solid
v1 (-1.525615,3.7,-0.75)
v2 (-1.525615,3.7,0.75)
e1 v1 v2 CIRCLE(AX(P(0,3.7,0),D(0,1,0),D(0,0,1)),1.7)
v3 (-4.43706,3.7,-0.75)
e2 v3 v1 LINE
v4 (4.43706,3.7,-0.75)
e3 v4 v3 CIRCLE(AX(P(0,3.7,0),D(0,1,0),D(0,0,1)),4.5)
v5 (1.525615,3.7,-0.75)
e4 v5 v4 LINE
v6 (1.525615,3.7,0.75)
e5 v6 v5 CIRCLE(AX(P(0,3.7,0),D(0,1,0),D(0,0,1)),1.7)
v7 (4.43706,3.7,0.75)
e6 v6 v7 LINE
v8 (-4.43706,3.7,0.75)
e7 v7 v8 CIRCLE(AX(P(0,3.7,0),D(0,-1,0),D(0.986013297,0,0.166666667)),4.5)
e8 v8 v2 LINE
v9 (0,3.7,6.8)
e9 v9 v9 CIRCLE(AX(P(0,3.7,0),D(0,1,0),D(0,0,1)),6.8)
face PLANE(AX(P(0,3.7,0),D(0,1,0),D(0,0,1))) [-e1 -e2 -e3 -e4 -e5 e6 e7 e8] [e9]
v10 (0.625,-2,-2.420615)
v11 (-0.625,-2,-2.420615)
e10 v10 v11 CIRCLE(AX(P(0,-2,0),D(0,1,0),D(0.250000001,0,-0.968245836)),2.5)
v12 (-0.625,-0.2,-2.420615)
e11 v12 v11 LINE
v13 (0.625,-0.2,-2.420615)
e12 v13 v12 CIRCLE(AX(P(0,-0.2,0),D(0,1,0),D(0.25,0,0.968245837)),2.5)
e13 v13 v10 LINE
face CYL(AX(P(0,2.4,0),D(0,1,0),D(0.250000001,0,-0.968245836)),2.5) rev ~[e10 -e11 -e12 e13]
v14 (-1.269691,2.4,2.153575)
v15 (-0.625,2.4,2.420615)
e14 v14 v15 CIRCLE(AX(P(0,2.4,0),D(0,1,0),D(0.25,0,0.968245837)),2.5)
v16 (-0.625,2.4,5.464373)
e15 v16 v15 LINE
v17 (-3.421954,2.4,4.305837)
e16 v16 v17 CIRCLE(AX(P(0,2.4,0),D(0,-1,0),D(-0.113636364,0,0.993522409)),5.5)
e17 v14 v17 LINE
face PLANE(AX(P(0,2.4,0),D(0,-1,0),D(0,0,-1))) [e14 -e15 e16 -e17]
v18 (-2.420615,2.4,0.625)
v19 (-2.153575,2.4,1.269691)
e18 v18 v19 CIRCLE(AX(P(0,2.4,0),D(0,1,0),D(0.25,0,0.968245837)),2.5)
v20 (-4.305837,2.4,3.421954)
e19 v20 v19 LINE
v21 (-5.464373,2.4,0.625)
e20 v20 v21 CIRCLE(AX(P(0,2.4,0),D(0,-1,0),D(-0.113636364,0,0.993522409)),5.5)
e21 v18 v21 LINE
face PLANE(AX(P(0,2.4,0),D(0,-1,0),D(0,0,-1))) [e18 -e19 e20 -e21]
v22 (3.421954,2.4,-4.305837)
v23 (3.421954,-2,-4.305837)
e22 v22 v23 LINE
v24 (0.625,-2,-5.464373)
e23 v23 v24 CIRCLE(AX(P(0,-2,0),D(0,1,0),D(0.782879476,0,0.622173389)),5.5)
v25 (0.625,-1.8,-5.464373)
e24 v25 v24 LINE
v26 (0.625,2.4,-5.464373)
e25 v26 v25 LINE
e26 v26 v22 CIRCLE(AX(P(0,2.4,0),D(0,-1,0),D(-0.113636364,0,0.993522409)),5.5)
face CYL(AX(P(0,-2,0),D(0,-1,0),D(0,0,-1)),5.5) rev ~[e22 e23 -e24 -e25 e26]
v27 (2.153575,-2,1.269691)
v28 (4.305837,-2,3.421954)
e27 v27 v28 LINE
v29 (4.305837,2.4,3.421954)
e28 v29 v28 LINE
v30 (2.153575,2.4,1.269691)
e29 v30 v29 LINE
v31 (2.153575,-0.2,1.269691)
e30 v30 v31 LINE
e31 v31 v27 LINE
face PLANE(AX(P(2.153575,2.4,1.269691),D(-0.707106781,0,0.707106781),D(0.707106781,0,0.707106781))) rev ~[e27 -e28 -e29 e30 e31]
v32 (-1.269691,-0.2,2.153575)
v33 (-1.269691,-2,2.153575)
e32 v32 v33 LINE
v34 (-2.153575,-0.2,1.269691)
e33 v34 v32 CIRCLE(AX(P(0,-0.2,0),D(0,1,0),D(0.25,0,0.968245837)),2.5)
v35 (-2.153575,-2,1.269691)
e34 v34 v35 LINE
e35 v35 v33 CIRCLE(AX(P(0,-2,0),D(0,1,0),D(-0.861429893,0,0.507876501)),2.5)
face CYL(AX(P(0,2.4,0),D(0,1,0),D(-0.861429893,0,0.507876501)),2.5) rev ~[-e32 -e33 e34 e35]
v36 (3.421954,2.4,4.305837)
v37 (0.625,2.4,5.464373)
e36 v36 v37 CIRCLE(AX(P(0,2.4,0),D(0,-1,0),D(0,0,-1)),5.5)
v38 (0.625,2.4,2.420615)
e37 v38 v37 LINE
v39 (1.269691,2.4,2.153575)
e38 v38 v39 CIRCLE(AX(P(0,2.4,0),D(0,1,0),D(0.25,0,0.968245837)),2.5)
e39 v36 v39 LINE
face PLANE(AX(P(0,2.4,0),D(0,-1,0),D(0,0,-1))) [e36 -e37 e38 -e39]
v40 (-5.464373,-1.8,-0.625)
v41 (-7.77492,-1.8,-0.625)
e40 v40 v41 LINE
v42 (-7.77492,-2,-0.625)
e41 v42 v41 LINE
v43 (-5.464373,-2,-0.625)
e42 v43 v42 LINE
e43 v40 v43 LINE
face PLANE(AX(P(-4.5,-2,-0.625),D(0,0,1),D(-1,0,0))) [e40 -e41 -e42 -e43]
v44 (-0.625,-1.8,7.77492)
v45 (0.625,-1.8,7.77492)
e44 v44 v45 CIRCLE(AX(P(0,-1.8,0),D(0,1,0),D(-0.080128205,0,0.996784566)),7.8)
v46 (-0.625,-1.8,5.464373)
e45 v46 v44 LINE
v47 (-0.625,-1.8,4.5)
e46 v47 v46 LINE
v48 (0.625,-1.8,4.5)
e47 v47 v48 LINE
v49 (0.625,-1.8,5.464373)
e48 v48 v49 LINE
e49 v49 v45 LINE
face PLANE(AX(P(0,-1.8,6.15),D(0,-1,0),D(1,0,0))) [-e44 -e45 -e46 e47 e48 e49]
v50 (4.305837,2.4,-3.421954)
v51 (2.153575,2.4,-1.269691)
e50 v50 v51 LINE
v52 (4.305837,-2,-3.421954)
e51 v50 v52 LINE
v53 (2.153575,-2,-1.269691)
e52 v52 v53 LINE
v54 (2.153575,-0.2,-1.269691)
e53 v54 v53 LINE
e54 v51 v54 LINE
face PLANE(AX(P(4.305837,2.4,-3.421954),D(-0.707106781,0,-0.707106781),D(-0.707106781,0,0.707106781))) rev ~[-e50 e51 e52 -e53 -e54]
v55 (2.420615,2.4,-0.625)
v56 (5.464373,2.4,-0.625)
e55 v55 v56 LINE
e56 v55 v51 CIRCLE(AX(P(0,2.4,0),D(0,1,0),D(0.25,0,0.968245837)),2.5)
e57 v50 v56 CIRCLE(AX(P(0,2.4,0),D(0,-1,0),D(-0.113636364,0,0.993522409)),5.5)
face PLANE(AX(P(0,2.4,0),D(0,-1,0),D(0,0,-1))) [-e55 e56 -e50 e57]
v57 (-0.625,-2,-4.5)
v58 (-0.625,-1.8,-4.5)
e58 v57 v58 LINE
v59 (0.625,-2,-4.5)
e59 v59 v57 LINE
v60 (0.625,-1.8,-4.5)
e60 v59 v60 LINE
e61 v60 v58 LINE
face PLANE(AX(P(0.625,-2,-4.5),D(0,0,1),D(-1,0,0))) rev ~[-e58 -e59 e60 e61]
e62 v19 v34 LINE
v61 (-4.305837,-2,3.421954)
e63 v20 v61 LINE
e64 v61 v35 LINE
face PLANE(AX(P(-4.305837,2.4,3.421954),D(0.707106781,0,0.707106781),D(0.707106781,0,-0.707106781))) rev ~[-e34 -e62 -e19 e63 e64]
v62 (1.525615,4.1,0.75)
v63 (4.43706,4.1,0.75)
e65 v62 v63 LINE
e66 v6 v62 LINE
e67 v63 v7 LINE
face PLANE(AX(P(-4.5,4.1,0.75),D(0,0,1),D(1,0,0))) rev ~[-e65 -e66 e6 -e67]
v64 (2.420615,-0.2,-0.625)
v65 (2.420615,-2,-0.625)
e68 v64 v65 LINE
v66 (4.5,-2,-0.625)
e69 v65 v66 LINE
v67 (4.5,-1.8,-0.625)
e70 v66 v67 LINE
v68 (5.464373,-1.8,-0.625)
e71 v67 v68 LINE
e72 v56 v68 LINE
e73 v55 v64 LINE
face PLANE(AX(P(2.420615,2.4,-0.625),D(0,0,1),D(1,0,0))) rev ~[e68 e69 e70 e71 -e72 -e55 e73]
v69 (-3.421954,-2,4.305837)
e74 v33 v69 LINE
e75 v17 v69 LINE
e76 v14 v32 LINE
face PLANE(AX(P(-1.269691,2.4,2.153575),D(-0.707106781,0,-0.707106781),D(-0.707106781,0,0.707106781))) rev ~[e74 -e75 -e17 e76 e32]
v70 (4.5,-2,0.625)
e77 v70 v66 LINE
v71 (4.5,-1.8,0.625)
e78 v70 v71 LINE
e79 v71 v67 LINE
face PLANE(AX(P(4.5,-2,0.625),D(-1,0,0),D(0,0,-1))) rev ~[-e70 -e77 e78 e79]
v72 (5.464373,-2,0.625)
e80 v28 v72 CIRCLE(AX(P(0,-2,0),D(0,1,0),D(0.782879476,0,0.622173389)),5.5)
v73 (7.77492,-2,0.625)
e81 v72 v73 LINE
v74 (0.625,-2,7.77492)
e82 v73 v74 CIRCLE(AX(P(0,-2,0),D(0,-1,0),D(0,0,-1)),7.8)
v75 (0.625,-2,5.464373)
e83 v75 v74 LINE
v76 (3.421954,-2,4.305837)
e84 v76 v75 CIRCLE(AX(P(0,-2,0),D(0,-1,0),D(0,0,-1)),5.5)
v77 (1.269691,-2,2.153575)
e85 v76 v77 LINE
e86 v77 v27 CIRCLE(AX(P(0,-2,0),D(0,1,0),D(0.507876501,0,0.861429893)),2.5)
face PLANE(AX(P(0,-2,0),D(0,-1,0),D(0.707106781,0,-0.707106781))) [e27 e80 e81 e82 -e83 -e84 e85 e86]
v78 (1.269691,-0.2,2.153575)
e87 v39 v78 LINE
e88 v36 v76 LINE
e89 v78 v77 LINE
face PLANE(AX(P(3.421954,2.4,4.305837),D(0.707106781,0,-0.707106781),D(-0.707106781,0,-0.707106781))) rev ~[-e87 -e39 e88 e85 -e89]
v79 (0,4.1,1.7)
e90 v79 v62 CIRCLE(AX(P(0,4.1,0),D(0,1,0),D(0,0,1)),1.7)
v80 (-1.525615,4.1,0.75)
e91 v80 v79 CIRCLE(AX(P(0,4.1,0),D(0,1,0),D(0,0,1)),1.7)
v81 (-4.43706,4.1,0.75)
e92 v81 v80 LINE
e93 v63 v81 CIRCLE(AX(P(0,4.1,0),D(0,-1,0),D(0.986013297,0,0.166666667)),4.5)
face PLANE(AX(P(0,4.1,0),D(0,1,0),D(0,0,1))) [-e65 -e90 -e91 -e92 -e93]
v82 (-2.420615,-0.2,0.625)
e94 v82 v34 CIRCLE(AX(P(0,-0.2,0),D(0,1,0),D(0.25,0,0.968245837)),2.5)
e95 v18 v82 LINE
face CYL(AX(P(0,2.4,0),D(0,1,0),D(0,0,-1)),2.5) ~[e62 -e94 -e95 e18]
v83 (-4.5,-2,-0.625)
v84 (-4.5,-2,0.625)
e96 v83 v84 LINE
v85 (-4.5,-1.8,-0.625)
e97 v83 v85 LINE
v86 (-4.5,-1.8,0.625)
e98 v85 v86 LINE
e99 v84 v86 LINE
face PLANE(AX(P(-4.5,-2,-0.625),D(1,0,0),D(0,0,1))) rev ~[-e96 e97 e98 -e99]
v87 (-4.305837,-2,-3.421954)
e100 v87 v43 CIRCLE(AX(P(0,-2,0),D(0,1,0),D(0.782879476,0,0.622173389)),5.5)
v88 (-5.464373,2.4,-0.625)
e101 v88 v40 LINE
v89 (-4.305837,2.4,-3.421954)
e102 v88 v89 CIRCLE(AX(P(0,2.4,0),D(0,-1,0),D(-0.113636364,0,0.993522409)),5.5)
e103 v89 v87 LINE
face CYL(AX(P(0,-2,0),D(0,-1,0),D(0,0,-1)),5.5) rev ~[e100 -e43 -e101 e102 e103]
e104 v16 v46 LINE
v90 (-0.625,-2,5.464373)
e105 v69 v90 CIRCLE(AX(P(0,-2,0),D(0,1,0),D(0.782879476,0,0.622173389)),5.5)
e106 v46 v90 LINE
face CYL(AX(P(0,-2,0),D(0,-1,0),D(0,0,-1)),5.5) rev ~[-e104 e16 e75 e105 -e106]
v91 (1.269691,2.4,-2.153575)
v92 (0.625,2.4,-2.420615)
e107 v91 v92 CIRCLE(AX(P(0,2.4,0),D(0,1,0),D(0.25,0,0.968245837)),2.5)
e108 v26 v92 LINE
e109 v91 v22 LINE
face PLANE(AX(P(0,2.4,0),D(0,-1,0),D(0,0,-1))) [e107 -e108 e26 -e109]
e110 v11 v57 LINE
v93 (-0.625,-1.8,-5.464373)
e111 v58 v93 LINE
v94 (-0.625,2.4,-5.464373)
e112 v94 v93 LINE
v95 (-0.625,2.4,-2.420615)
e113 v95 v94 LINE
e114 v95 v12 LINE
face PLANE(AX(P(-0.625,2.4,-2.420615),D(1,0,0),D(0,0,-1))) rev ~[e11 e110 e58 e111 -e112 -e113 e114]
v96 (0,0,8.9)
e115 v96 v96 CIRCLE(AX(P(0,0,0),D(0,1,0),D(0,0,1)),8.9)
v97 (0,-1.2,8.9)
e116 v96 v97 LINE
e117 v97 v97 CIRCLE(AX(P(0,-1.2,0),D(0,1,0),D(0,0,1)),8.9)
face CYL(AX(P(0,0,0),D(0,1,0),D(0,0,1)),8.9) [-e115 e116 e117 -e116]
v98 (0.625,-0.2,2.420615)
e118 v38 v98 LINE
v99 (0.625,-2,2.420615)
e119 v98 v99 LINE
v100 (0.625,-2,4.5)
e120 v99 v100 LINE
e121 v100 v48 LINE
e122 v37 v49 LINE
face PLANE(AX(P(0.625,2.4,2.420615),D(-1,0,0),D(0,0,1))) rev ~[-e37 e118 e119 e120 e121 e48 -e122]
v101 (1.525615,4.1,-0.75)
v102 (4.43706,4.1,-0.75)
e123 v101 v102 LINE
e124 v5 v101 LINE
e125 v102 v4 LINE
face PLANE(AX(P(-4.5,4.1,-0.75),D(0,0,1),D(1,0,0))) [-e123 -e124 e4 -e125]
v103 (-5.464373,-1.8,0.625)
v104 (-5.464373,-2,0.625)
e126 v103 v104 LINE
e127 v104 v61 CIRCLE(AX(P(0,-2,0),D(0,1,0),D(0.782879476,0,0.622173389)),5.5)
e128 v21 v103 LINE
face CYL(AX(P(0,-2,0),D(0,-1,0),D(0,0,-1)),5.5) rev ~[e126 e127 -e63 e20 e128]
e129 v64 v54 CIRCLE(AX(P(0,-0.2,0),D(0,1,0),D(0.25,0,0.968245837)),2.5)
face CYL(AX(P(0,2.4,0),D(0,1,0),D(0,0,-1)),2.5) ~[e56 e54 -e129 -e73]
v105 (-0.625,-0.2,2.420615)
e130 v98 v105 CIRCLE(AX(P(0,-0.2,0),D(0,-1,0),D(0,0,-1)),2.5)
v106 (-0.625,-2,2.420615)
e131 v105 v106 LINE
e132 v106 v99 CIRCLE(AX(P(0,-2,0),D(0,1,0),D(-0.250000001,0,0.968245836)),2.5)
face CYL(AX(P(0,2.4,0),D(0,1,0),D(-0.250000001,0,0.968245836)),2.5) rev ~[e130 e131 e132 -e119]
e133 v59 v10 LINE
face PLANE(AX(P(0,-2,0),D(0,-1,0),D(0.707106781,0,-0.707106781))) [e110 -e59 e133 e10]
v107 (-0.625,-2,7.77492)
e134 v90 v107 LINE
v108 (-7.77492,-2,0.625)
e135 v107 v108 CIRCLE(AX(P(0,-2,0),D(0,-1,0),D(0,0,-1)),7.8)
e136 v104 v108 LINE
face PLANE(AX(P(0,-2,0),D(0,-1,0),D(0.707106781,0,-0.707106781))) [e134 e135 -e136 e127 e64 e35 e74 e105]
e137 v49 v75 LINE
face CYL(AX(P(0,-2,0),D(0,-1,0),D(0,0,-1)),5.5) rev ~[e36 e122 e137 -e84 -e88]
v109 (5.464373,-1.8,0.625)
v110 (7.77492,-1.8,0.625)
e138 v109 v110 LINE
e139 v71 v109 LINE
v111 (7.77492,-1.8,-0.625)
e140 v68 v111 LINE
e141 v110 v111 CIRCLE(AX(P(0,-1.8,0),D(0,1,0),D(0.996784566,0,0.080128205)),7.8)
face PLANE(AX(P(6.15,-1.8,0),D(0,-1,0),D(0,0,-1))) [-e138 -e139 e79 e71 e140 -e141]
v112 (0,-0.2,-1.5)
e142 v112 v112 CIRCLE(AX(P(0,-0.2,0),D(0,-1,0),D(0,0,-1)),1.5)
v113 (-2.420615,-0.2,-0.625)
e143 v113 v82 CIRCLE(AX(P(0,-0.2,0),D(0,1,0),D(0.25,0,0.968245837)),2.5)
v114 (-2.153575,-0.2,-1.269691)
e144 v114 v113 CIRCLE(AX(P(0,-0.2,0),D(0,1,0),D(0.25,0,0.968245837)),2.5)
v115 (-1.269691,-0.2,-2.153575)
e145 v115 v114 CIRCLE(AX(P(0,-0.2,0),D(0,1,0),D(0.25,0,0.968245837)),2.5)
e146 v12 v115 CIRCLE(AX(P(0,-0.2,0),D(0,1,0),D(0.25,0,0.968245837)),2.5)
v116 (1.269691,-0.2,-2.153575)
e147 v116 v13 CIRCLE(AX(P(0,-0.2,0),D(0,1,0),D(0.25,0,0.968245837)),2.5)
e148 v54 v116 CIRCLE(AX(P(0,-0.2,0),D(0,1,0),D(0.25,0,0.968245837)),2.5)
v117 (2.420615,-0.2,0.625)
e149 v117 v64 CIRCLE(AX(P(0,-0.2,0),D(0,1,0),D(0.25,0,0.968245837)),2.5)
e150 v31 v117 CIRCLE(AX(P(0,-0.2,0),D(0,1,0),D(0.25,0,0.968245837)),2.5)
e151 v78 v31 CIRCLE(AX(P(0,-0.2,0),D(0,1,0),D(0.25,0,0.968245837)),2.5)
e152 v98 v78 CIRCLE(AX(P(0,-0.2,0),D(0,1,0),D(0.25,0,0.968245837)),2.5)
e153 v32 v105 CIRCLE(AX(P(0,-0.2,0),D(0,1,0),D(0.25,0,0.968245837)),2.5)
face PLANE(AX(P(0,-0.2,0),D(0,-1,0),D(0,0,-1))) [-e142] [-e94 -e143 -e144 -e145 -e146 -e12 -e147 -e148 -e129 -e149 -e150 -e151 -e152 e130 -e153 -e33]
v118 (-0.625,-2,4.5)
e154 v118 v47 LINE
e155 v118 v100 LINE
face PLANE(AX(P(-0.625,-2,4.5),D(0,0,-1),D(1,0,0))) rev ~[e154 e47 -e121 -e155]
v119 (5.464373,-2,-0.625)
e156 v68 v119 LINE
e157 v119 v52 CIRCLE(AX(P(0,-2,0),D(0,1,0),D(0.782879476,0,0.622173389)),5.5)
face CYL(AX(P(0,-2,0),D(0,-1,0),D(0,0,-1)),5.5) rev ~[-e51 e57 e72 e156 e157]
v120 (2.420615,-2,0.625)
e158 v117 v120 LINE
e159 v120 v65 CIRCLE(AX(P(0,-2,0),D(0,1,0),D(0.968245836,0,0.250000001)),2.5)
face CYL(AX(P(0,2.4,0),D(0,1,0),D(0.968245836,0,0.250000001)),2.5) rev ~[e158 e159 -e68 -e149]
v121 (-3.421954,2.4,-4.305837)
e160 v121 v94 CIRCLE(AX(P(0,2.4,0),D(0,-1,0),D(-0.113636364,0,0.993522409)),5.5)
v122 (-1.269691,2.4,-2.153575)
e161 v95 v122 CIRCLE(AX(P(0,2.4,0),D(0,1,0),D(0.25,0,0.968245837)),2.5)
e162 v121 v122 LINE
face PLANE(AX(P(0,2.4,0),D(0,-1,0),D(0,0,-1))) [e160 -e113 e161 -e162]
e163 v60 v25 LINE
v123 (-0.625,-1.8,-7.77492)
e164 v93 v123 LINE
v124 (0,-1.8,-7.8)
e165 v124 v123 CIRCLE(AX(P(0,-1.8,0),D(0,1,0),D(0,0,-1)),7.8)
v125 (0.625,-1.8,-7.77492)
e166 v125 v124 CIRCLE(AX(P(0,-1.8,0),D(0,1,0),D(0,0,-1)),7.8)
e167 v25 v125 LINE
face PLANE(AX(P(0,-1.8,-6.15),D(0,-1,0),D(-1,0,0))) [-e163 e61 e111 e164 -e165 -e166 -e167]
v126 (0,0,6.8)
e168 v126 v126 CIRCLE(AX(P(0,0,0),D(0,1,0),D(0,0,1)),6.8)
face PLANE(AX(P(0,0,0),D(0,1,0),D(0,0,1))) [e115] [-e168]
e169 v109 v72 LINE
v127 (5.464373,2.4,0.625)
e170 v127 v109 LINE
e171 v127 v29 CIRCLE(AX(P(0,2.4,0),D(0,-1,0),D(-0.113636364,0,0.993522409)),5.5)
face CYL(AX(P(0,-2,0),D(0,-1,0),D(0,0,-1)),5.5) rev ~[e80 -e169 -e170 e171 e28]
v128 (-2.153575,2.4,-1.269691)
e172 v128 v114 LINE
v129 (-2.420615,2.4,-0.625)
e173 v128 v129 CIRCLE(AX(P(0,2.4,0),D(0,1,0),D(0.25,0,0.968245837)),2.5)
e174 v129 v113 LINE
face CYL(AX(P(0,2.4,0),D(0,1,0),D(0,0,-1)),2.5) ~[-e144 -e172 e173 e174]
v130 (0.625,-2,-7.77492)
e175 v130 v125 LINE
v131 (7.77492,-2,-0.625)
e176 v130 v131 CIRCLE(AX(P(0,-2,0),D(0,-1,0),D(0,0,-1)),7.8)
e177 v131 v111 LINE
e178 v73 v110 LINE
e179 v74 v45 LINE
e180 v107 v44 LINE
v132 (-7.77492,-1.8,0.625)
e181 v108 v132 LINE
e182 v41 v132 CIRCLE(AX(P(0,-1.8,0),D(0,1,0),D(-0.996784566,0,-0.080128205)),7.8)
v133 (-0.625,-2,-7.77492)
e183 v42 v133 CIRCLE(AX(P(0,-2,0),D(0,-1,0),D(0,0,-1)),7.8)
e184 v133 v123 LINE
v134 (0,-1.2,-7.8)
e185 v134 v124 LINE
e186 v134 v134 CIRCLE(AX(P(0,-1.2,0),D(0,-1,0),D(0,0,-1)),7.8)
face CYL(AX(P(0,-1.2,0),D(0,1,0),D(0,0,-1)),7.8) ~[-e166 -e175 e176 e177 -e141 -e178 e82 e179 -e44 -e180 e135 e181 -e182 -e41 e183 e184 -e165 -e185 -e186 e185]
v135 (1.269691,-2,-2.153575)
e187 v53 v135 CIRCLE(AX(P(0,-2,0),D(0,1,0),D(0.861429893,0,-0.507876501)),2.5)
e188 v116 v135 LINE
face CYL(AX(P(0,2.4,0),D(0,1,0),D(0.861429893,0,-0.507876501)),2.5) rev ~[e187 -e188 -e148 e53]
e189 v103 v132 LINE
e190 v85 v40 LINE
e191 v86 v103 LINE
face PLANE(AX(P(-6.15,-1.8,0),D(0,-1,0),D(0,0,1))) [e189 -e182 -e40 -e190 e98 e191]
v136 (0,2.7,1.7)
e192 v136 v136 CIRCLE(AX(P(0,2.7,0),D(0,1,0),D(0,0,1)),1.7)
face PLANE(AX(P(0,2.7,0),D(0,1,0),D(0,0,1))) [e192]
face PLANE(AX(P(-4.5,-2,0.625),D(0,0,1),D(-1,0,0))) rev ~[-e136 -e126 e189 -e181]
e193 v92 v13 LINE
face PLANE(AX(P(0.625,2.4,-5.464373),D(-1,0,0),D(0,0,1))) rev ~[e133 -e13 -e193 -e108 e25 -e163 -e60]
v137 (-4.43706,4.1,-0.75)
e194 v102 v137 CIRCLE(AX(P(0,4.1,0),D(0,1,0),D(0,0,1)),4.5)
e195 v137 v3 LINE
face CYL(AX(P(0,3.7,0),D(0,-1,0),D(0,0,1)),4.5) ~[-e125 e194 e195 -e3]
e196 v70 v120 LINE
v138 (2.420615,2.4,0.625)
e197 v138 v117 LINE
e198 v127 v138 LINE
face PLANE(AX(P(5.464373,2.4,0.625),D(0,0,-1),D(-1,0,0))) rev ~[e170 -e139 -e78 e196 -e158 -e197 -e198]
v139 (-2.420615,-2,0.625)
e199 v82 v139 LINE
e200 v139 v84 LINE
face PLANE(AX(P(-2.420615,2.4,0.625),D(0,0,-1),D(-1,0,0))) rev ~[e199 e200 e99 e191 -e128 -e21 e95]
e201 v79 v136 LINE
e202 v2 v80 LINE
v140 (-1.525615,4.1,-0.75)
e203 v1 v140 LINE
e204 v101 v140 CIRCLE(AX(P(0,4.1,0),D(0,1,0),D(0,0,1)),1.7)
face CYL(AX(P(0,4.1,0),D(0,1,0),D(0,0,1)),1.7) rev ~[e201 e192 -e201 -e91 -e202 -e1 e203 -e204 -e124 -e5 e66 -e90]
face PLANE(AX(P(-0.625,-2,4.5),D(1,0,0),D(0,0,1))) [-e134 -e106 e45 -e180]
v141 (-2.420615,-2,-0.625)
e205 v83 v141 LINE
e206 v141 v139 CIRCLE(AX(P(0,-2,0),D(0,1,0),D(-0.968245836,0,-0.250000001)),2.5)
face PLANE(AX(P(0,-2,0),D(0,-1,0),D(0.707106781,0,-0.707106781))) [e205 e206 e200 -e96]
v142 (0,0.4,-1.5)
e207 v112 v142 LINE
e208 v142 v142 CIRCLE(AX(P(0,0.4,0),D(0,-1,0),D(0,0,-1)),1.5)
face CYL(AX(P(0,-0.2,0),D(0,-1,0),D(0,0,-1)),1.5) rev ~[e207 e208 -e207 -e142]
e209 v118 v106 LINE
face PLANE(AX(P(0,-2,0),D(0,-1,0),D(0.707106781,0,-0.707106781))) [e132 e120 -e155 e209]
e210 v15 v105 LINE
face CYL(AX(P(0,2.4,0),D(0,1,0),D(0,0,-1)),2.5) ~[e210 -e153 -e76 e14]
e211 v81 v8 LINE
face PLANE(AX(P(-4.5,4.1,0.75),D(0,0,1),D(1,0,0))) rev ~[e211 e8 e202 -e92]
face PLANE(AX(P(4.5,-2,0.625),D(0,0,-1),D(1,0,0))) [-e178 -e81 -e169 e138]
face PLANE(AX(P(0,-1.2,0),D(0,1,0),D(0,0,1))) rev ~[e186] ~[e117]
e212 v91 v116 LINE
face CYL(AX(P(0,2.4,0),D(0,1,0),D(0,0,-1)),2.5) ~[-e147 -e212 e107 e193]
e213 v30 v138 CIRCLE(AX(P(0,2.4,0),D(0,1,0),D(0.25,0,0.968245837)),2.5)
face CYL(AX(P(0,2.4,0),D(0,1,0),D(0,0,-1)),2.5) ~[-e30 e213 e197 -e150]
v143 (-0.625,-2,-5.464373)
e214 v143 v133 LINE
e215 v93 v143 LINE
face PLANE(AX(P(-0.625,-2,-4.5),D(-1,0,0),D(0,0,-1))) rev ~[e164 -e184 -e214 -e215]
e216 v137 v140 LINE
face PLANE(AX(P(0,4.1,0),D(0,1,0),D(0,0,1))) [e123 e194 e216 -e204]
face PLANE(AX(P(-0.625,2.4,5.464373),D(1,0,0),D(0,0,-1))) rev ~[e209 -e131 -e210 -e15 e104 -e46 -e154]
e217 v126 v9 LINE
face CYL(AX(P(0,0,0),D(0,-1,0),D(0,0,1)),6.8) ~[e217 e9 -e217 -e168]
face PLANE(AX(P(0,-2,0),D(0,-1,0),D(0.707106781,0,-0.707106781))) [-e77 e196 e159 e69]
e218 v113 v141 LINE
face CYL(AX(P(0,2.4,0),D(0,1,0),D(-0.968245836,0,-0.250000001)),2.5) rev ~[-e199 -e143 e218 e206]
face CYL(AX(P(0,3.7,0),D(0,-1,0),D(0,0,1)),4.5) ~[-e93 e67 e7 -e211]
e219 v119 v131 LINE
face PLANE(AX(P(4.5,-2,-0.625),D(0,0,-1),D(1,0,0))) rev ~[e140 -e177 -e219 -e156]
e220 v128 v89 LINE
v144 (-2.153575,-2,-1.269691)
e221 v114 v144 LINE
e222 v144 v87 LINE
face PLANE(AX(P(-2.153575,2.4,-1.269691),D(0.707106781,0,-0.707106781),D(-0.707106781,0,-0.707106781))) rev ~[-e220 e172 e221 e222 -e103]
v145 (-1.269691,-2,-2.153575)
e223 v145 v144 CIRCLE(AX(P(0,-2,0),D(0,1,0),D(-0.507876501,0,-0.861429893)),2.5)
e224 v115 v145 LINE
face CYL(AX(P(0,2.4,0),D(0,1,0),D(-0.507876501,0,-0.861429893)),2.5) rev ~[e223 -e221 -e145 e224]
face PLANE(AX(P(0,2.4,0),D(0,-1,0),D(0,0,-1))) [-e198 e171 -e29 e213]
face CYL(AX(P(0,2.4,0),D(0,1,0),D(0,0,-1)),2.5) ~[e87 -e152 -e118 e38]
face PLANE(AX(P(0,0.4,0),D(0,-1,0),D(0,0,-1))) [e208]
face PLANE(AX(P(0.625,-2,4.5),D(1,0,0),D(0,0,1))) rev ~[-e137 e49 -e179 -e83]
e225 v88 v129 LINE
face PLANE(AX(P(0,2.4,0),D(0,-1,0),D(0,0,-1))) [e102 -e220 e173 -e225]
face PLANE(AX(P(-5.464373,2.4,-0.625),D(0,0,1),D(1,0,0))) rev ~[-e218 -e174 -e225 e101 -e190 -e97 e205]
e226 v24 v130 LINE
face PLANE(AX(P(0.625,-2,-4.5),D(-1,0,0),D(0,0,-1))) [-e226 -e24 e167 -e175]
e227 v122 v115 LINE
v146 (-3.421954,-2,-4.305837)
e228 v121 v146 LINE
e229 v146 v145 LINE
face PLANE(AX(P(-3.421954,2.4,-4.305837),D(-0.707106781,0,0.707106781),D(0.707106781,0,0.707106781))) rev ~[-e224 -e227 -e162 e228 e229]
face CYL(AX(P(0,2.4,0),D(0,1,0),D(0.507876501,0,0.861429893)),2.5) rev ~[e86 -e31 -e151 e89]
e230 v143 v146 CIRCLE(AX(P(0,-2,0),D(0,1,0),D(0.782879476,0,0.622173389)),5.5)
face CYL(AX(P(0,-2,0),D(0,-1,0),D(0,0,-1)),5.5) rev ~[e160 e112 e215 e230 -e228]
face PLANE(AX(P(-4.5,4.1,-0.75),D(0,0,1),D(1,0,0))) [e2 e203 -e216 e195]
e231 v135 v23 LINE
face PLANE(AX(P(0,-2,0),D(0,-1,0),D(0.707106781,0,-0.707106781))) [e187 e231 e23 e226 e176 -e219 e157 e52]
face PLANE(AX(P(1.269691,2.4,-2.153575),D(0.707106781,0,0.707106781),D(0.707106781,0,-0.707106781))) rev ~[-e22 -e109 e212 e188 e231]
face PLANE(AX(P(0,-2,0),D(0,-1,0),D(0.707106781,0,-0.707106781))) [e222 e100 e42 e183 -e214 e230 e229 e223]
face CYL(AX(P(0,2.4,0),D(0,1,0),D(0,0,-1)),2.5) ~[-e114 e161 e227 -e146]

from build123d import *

# Parameters (mm, degrees)
BASES_R               = 8.9
BASE_DEPTH            = 1.2
O_RINGCAPTURES_R      = 6.8
O_RINGCAPTURE_DEPTH   = 3.7
SEALINGFACES_R        = 4.5
SEALINGFACE_DEPTH     = 0.4
SLOTCUTS_W            = 9
SLOTCUTS_H            = 1.5
SLOTCUT_DEPTH         = 0.4
BOTTOMBASES_R         = 7.8
BOTTOMBASE_DEPTH      = 0.8
TOPBORES_R            = 1.7
TOPBORE_DEPTH         = 1.4
BOTTOMBORES_R         = 5.5
BOTTOMBORE_DEPTH      = 4.4
CENTRALCYLINDERS_R    = 2.5
CENTRALCYLINDER_DEPTH = 2.6
CYLINDERBORES_R       = 1.5
CYLINDERBORE_DEPTH    = 0.6
RIB_REACH             = 15.333
RIBCP_COUNT           = 8
RIBCUTS_W             = 1.25
RIBCUTS_H             = 3.3
RIBCUT_DEPTH          = 0.2
RIBCUTCP_COUNT        = 4


with BuildPart() as part:
    # BaseS → Base (new body)
    with BuildSketch(Plane(origin=(0, 0, 0), x_dir=(1, 0, 0), z_dir=(0, 1, 0))):
        with Locations(Location((0, 0, 0), (0, 0, 270))):
            Circle(BASES_R)
    extrude(amount=-BASE_DEPTH)

    # O-RingCaptureS → O-RingCapture (add)
    with BuildSketch(Plane(origin=(0, 0, 0), x_dir=(1, 0, 0), z_dir=(0, 1, 0))):
        with Locations(Location((0, 0, 0), (0, 0, 270))):
            Circle(O_RINGCAPTURES_R)
    extrude(amount=O_RINGCAPTURE_DEPTH)

    # SealingFaceS → SealingFace (add)
    with BuildSketch(Plane(origin=(0, 3.7, 0), x_dir=(1, 0, 0), z_dir=(0, 1, 0))):
        with Locations(Location((0, 0, 0), (0, 0, 270))):
            Circle(SEALINGFACES_R)
    extrude(amount=SEALINGFACE_DEPTH)

    # SlotCutS → SlotCut (cut)
    with BuildSketch(Plane(origin=(0, 4.1, 0), x_dir=(1, 0, 0), z_dir=(0, 1, 0))):
        Rectangle(SLOTCUTS_W, SLOTCUTS_H)
    extrude(amount=-SLOTCUT_DEPTH, mode=Mode.SUBTRACT)

    # BottomBaseS → BottomBase (add)
    with BuildSketch(Plane.XZ.offset(1.2)):
        with Locations(Location((0, 0, 0), (0, 0, 270))):
            Circle(BOTTOMBASES_R)
    extrude(amount=BOTTOMBASE_DEPTH)

    # TopBoreS → TopBore (cut)
    with BuildSketch(Plane(origin=(0, 4.1, 0), x_dir=(1, 0, 0), z_dir=(0, 1, 0))):
        with Locations(Location((0, 0, 0), (0, 0, 270))):
            Circle(TOPBORES_R)
    extrude(amount=-TOPBORE_DEPTH, mode=Mode.SUBTRACT)

    # BottomBoreS → BottomBore (cut)
    with BuildSketch(Plane.XZ.offset(2)):
        with Locations(Location((0, 0, 0), (0, 0, 270))):
            Circle(BOTTOMBORES_R)
    extrude(amount=-BOTTOMBORE_DEPTH, mode=Mode.SUBTRACT)

    # CentralCylinderS → CentralCylinder (add)
    with BuildSketch(Plane(origin=(0, 2.4, 0), x_dir=(-1, 0, 0), z_dir=(0, -1, 0))):
        with Locations(Location((0, 0, 0), (0, 0, 90))):
            Circle(CENTRALCYLINDERS_R)
    extrude(amount=CENTRALCYLINDER_DEPTH)

    # CylinderBoreS → CylinderBore (cut)
    with BuildSketch(Plane(origin=(0, -0.2, 0), x_dir=(-1, 0, 0), z_dir=(0, -1, 0))):
        with Locations(Location((0, 0, 0), (0, 0, 90))):
            Circle(CYLINDERBORES_R)
    extrude(amount=-CYLINDERBORE_DEPTH, mode=Mode.SUBTRACT)

    # Rib: up to this face of the body (flat: up to its plane)
    rib_end = Plane(part.part.faces().sort_by_distance((0, -2, 7.579382684))[0])
    # RibS → Rib (add, up to the picked face)
    with BuildSketch(Plane(origin=(0, 2.4, 0), x_dir=(-1, 0, 0), z_dir=(0, -1, 0)), mode=Mode.PRIVATE) as rib_sk1:
        with BuildLine():
            Line((0.625, -5.464373249), (0.625, -2.420614591))
            ThreePointArc((0.625, -2.420614591), (0, -2.5), (-0.625, -2.420614591))
            Line((-0.625, -2.420614591), (-0.625, -5.464373249))
            ThreePointArc((-0.625, -5.464373249), (0, -5.5), (0.625, -5.464373249))
        make_face()
    rib_tool1 = split(extrude(rib_sk1.sketch, amount=RIB_REACH, mode=Mode.PRIVATE), bisect_by=rib_end, keep=Keep.BOTH, mode=Mode.PRIVATE)
    rib = rib_tool1.solids().sort_by(Axis((0, 2.4, 3.98085), (0, -1, 0)))[0]
    add(rib)

    # RibCP: Rib ×8 about axis
    ribcp_axis = Axis((0, 0, 0), (0, 1, 0))
    for i in range(1, RIBCP_COUNT):
        add(rib.rotate(ribcp_axis, i * 360 / RIBCP_COUNT))

    # RibCutS → RibCut (cut)
    with BuildSketch(Plane.XZ.offset(2)):
        with Locations((0, 6.15)):
            Rectangle(RIBCUTS_W, RIBCUTS_H)
    ribcut = extrude(amount=-RIBCUT_DEPTH, mode=Mode.SUBTRACT)

    # RibCutCP: RibCut ×4 about axis
    ribcutcp_axis = Axis((0, 0, 0), (0, 1, 0))
    for i in range(1, RIBCUTCP_COUNT):
        add(ribcut.rotate(ribcutcp_axis, i * 360 / RIBCUTCP_COUNT), mode=Mode.SUBTRACT)


solid = part.part
